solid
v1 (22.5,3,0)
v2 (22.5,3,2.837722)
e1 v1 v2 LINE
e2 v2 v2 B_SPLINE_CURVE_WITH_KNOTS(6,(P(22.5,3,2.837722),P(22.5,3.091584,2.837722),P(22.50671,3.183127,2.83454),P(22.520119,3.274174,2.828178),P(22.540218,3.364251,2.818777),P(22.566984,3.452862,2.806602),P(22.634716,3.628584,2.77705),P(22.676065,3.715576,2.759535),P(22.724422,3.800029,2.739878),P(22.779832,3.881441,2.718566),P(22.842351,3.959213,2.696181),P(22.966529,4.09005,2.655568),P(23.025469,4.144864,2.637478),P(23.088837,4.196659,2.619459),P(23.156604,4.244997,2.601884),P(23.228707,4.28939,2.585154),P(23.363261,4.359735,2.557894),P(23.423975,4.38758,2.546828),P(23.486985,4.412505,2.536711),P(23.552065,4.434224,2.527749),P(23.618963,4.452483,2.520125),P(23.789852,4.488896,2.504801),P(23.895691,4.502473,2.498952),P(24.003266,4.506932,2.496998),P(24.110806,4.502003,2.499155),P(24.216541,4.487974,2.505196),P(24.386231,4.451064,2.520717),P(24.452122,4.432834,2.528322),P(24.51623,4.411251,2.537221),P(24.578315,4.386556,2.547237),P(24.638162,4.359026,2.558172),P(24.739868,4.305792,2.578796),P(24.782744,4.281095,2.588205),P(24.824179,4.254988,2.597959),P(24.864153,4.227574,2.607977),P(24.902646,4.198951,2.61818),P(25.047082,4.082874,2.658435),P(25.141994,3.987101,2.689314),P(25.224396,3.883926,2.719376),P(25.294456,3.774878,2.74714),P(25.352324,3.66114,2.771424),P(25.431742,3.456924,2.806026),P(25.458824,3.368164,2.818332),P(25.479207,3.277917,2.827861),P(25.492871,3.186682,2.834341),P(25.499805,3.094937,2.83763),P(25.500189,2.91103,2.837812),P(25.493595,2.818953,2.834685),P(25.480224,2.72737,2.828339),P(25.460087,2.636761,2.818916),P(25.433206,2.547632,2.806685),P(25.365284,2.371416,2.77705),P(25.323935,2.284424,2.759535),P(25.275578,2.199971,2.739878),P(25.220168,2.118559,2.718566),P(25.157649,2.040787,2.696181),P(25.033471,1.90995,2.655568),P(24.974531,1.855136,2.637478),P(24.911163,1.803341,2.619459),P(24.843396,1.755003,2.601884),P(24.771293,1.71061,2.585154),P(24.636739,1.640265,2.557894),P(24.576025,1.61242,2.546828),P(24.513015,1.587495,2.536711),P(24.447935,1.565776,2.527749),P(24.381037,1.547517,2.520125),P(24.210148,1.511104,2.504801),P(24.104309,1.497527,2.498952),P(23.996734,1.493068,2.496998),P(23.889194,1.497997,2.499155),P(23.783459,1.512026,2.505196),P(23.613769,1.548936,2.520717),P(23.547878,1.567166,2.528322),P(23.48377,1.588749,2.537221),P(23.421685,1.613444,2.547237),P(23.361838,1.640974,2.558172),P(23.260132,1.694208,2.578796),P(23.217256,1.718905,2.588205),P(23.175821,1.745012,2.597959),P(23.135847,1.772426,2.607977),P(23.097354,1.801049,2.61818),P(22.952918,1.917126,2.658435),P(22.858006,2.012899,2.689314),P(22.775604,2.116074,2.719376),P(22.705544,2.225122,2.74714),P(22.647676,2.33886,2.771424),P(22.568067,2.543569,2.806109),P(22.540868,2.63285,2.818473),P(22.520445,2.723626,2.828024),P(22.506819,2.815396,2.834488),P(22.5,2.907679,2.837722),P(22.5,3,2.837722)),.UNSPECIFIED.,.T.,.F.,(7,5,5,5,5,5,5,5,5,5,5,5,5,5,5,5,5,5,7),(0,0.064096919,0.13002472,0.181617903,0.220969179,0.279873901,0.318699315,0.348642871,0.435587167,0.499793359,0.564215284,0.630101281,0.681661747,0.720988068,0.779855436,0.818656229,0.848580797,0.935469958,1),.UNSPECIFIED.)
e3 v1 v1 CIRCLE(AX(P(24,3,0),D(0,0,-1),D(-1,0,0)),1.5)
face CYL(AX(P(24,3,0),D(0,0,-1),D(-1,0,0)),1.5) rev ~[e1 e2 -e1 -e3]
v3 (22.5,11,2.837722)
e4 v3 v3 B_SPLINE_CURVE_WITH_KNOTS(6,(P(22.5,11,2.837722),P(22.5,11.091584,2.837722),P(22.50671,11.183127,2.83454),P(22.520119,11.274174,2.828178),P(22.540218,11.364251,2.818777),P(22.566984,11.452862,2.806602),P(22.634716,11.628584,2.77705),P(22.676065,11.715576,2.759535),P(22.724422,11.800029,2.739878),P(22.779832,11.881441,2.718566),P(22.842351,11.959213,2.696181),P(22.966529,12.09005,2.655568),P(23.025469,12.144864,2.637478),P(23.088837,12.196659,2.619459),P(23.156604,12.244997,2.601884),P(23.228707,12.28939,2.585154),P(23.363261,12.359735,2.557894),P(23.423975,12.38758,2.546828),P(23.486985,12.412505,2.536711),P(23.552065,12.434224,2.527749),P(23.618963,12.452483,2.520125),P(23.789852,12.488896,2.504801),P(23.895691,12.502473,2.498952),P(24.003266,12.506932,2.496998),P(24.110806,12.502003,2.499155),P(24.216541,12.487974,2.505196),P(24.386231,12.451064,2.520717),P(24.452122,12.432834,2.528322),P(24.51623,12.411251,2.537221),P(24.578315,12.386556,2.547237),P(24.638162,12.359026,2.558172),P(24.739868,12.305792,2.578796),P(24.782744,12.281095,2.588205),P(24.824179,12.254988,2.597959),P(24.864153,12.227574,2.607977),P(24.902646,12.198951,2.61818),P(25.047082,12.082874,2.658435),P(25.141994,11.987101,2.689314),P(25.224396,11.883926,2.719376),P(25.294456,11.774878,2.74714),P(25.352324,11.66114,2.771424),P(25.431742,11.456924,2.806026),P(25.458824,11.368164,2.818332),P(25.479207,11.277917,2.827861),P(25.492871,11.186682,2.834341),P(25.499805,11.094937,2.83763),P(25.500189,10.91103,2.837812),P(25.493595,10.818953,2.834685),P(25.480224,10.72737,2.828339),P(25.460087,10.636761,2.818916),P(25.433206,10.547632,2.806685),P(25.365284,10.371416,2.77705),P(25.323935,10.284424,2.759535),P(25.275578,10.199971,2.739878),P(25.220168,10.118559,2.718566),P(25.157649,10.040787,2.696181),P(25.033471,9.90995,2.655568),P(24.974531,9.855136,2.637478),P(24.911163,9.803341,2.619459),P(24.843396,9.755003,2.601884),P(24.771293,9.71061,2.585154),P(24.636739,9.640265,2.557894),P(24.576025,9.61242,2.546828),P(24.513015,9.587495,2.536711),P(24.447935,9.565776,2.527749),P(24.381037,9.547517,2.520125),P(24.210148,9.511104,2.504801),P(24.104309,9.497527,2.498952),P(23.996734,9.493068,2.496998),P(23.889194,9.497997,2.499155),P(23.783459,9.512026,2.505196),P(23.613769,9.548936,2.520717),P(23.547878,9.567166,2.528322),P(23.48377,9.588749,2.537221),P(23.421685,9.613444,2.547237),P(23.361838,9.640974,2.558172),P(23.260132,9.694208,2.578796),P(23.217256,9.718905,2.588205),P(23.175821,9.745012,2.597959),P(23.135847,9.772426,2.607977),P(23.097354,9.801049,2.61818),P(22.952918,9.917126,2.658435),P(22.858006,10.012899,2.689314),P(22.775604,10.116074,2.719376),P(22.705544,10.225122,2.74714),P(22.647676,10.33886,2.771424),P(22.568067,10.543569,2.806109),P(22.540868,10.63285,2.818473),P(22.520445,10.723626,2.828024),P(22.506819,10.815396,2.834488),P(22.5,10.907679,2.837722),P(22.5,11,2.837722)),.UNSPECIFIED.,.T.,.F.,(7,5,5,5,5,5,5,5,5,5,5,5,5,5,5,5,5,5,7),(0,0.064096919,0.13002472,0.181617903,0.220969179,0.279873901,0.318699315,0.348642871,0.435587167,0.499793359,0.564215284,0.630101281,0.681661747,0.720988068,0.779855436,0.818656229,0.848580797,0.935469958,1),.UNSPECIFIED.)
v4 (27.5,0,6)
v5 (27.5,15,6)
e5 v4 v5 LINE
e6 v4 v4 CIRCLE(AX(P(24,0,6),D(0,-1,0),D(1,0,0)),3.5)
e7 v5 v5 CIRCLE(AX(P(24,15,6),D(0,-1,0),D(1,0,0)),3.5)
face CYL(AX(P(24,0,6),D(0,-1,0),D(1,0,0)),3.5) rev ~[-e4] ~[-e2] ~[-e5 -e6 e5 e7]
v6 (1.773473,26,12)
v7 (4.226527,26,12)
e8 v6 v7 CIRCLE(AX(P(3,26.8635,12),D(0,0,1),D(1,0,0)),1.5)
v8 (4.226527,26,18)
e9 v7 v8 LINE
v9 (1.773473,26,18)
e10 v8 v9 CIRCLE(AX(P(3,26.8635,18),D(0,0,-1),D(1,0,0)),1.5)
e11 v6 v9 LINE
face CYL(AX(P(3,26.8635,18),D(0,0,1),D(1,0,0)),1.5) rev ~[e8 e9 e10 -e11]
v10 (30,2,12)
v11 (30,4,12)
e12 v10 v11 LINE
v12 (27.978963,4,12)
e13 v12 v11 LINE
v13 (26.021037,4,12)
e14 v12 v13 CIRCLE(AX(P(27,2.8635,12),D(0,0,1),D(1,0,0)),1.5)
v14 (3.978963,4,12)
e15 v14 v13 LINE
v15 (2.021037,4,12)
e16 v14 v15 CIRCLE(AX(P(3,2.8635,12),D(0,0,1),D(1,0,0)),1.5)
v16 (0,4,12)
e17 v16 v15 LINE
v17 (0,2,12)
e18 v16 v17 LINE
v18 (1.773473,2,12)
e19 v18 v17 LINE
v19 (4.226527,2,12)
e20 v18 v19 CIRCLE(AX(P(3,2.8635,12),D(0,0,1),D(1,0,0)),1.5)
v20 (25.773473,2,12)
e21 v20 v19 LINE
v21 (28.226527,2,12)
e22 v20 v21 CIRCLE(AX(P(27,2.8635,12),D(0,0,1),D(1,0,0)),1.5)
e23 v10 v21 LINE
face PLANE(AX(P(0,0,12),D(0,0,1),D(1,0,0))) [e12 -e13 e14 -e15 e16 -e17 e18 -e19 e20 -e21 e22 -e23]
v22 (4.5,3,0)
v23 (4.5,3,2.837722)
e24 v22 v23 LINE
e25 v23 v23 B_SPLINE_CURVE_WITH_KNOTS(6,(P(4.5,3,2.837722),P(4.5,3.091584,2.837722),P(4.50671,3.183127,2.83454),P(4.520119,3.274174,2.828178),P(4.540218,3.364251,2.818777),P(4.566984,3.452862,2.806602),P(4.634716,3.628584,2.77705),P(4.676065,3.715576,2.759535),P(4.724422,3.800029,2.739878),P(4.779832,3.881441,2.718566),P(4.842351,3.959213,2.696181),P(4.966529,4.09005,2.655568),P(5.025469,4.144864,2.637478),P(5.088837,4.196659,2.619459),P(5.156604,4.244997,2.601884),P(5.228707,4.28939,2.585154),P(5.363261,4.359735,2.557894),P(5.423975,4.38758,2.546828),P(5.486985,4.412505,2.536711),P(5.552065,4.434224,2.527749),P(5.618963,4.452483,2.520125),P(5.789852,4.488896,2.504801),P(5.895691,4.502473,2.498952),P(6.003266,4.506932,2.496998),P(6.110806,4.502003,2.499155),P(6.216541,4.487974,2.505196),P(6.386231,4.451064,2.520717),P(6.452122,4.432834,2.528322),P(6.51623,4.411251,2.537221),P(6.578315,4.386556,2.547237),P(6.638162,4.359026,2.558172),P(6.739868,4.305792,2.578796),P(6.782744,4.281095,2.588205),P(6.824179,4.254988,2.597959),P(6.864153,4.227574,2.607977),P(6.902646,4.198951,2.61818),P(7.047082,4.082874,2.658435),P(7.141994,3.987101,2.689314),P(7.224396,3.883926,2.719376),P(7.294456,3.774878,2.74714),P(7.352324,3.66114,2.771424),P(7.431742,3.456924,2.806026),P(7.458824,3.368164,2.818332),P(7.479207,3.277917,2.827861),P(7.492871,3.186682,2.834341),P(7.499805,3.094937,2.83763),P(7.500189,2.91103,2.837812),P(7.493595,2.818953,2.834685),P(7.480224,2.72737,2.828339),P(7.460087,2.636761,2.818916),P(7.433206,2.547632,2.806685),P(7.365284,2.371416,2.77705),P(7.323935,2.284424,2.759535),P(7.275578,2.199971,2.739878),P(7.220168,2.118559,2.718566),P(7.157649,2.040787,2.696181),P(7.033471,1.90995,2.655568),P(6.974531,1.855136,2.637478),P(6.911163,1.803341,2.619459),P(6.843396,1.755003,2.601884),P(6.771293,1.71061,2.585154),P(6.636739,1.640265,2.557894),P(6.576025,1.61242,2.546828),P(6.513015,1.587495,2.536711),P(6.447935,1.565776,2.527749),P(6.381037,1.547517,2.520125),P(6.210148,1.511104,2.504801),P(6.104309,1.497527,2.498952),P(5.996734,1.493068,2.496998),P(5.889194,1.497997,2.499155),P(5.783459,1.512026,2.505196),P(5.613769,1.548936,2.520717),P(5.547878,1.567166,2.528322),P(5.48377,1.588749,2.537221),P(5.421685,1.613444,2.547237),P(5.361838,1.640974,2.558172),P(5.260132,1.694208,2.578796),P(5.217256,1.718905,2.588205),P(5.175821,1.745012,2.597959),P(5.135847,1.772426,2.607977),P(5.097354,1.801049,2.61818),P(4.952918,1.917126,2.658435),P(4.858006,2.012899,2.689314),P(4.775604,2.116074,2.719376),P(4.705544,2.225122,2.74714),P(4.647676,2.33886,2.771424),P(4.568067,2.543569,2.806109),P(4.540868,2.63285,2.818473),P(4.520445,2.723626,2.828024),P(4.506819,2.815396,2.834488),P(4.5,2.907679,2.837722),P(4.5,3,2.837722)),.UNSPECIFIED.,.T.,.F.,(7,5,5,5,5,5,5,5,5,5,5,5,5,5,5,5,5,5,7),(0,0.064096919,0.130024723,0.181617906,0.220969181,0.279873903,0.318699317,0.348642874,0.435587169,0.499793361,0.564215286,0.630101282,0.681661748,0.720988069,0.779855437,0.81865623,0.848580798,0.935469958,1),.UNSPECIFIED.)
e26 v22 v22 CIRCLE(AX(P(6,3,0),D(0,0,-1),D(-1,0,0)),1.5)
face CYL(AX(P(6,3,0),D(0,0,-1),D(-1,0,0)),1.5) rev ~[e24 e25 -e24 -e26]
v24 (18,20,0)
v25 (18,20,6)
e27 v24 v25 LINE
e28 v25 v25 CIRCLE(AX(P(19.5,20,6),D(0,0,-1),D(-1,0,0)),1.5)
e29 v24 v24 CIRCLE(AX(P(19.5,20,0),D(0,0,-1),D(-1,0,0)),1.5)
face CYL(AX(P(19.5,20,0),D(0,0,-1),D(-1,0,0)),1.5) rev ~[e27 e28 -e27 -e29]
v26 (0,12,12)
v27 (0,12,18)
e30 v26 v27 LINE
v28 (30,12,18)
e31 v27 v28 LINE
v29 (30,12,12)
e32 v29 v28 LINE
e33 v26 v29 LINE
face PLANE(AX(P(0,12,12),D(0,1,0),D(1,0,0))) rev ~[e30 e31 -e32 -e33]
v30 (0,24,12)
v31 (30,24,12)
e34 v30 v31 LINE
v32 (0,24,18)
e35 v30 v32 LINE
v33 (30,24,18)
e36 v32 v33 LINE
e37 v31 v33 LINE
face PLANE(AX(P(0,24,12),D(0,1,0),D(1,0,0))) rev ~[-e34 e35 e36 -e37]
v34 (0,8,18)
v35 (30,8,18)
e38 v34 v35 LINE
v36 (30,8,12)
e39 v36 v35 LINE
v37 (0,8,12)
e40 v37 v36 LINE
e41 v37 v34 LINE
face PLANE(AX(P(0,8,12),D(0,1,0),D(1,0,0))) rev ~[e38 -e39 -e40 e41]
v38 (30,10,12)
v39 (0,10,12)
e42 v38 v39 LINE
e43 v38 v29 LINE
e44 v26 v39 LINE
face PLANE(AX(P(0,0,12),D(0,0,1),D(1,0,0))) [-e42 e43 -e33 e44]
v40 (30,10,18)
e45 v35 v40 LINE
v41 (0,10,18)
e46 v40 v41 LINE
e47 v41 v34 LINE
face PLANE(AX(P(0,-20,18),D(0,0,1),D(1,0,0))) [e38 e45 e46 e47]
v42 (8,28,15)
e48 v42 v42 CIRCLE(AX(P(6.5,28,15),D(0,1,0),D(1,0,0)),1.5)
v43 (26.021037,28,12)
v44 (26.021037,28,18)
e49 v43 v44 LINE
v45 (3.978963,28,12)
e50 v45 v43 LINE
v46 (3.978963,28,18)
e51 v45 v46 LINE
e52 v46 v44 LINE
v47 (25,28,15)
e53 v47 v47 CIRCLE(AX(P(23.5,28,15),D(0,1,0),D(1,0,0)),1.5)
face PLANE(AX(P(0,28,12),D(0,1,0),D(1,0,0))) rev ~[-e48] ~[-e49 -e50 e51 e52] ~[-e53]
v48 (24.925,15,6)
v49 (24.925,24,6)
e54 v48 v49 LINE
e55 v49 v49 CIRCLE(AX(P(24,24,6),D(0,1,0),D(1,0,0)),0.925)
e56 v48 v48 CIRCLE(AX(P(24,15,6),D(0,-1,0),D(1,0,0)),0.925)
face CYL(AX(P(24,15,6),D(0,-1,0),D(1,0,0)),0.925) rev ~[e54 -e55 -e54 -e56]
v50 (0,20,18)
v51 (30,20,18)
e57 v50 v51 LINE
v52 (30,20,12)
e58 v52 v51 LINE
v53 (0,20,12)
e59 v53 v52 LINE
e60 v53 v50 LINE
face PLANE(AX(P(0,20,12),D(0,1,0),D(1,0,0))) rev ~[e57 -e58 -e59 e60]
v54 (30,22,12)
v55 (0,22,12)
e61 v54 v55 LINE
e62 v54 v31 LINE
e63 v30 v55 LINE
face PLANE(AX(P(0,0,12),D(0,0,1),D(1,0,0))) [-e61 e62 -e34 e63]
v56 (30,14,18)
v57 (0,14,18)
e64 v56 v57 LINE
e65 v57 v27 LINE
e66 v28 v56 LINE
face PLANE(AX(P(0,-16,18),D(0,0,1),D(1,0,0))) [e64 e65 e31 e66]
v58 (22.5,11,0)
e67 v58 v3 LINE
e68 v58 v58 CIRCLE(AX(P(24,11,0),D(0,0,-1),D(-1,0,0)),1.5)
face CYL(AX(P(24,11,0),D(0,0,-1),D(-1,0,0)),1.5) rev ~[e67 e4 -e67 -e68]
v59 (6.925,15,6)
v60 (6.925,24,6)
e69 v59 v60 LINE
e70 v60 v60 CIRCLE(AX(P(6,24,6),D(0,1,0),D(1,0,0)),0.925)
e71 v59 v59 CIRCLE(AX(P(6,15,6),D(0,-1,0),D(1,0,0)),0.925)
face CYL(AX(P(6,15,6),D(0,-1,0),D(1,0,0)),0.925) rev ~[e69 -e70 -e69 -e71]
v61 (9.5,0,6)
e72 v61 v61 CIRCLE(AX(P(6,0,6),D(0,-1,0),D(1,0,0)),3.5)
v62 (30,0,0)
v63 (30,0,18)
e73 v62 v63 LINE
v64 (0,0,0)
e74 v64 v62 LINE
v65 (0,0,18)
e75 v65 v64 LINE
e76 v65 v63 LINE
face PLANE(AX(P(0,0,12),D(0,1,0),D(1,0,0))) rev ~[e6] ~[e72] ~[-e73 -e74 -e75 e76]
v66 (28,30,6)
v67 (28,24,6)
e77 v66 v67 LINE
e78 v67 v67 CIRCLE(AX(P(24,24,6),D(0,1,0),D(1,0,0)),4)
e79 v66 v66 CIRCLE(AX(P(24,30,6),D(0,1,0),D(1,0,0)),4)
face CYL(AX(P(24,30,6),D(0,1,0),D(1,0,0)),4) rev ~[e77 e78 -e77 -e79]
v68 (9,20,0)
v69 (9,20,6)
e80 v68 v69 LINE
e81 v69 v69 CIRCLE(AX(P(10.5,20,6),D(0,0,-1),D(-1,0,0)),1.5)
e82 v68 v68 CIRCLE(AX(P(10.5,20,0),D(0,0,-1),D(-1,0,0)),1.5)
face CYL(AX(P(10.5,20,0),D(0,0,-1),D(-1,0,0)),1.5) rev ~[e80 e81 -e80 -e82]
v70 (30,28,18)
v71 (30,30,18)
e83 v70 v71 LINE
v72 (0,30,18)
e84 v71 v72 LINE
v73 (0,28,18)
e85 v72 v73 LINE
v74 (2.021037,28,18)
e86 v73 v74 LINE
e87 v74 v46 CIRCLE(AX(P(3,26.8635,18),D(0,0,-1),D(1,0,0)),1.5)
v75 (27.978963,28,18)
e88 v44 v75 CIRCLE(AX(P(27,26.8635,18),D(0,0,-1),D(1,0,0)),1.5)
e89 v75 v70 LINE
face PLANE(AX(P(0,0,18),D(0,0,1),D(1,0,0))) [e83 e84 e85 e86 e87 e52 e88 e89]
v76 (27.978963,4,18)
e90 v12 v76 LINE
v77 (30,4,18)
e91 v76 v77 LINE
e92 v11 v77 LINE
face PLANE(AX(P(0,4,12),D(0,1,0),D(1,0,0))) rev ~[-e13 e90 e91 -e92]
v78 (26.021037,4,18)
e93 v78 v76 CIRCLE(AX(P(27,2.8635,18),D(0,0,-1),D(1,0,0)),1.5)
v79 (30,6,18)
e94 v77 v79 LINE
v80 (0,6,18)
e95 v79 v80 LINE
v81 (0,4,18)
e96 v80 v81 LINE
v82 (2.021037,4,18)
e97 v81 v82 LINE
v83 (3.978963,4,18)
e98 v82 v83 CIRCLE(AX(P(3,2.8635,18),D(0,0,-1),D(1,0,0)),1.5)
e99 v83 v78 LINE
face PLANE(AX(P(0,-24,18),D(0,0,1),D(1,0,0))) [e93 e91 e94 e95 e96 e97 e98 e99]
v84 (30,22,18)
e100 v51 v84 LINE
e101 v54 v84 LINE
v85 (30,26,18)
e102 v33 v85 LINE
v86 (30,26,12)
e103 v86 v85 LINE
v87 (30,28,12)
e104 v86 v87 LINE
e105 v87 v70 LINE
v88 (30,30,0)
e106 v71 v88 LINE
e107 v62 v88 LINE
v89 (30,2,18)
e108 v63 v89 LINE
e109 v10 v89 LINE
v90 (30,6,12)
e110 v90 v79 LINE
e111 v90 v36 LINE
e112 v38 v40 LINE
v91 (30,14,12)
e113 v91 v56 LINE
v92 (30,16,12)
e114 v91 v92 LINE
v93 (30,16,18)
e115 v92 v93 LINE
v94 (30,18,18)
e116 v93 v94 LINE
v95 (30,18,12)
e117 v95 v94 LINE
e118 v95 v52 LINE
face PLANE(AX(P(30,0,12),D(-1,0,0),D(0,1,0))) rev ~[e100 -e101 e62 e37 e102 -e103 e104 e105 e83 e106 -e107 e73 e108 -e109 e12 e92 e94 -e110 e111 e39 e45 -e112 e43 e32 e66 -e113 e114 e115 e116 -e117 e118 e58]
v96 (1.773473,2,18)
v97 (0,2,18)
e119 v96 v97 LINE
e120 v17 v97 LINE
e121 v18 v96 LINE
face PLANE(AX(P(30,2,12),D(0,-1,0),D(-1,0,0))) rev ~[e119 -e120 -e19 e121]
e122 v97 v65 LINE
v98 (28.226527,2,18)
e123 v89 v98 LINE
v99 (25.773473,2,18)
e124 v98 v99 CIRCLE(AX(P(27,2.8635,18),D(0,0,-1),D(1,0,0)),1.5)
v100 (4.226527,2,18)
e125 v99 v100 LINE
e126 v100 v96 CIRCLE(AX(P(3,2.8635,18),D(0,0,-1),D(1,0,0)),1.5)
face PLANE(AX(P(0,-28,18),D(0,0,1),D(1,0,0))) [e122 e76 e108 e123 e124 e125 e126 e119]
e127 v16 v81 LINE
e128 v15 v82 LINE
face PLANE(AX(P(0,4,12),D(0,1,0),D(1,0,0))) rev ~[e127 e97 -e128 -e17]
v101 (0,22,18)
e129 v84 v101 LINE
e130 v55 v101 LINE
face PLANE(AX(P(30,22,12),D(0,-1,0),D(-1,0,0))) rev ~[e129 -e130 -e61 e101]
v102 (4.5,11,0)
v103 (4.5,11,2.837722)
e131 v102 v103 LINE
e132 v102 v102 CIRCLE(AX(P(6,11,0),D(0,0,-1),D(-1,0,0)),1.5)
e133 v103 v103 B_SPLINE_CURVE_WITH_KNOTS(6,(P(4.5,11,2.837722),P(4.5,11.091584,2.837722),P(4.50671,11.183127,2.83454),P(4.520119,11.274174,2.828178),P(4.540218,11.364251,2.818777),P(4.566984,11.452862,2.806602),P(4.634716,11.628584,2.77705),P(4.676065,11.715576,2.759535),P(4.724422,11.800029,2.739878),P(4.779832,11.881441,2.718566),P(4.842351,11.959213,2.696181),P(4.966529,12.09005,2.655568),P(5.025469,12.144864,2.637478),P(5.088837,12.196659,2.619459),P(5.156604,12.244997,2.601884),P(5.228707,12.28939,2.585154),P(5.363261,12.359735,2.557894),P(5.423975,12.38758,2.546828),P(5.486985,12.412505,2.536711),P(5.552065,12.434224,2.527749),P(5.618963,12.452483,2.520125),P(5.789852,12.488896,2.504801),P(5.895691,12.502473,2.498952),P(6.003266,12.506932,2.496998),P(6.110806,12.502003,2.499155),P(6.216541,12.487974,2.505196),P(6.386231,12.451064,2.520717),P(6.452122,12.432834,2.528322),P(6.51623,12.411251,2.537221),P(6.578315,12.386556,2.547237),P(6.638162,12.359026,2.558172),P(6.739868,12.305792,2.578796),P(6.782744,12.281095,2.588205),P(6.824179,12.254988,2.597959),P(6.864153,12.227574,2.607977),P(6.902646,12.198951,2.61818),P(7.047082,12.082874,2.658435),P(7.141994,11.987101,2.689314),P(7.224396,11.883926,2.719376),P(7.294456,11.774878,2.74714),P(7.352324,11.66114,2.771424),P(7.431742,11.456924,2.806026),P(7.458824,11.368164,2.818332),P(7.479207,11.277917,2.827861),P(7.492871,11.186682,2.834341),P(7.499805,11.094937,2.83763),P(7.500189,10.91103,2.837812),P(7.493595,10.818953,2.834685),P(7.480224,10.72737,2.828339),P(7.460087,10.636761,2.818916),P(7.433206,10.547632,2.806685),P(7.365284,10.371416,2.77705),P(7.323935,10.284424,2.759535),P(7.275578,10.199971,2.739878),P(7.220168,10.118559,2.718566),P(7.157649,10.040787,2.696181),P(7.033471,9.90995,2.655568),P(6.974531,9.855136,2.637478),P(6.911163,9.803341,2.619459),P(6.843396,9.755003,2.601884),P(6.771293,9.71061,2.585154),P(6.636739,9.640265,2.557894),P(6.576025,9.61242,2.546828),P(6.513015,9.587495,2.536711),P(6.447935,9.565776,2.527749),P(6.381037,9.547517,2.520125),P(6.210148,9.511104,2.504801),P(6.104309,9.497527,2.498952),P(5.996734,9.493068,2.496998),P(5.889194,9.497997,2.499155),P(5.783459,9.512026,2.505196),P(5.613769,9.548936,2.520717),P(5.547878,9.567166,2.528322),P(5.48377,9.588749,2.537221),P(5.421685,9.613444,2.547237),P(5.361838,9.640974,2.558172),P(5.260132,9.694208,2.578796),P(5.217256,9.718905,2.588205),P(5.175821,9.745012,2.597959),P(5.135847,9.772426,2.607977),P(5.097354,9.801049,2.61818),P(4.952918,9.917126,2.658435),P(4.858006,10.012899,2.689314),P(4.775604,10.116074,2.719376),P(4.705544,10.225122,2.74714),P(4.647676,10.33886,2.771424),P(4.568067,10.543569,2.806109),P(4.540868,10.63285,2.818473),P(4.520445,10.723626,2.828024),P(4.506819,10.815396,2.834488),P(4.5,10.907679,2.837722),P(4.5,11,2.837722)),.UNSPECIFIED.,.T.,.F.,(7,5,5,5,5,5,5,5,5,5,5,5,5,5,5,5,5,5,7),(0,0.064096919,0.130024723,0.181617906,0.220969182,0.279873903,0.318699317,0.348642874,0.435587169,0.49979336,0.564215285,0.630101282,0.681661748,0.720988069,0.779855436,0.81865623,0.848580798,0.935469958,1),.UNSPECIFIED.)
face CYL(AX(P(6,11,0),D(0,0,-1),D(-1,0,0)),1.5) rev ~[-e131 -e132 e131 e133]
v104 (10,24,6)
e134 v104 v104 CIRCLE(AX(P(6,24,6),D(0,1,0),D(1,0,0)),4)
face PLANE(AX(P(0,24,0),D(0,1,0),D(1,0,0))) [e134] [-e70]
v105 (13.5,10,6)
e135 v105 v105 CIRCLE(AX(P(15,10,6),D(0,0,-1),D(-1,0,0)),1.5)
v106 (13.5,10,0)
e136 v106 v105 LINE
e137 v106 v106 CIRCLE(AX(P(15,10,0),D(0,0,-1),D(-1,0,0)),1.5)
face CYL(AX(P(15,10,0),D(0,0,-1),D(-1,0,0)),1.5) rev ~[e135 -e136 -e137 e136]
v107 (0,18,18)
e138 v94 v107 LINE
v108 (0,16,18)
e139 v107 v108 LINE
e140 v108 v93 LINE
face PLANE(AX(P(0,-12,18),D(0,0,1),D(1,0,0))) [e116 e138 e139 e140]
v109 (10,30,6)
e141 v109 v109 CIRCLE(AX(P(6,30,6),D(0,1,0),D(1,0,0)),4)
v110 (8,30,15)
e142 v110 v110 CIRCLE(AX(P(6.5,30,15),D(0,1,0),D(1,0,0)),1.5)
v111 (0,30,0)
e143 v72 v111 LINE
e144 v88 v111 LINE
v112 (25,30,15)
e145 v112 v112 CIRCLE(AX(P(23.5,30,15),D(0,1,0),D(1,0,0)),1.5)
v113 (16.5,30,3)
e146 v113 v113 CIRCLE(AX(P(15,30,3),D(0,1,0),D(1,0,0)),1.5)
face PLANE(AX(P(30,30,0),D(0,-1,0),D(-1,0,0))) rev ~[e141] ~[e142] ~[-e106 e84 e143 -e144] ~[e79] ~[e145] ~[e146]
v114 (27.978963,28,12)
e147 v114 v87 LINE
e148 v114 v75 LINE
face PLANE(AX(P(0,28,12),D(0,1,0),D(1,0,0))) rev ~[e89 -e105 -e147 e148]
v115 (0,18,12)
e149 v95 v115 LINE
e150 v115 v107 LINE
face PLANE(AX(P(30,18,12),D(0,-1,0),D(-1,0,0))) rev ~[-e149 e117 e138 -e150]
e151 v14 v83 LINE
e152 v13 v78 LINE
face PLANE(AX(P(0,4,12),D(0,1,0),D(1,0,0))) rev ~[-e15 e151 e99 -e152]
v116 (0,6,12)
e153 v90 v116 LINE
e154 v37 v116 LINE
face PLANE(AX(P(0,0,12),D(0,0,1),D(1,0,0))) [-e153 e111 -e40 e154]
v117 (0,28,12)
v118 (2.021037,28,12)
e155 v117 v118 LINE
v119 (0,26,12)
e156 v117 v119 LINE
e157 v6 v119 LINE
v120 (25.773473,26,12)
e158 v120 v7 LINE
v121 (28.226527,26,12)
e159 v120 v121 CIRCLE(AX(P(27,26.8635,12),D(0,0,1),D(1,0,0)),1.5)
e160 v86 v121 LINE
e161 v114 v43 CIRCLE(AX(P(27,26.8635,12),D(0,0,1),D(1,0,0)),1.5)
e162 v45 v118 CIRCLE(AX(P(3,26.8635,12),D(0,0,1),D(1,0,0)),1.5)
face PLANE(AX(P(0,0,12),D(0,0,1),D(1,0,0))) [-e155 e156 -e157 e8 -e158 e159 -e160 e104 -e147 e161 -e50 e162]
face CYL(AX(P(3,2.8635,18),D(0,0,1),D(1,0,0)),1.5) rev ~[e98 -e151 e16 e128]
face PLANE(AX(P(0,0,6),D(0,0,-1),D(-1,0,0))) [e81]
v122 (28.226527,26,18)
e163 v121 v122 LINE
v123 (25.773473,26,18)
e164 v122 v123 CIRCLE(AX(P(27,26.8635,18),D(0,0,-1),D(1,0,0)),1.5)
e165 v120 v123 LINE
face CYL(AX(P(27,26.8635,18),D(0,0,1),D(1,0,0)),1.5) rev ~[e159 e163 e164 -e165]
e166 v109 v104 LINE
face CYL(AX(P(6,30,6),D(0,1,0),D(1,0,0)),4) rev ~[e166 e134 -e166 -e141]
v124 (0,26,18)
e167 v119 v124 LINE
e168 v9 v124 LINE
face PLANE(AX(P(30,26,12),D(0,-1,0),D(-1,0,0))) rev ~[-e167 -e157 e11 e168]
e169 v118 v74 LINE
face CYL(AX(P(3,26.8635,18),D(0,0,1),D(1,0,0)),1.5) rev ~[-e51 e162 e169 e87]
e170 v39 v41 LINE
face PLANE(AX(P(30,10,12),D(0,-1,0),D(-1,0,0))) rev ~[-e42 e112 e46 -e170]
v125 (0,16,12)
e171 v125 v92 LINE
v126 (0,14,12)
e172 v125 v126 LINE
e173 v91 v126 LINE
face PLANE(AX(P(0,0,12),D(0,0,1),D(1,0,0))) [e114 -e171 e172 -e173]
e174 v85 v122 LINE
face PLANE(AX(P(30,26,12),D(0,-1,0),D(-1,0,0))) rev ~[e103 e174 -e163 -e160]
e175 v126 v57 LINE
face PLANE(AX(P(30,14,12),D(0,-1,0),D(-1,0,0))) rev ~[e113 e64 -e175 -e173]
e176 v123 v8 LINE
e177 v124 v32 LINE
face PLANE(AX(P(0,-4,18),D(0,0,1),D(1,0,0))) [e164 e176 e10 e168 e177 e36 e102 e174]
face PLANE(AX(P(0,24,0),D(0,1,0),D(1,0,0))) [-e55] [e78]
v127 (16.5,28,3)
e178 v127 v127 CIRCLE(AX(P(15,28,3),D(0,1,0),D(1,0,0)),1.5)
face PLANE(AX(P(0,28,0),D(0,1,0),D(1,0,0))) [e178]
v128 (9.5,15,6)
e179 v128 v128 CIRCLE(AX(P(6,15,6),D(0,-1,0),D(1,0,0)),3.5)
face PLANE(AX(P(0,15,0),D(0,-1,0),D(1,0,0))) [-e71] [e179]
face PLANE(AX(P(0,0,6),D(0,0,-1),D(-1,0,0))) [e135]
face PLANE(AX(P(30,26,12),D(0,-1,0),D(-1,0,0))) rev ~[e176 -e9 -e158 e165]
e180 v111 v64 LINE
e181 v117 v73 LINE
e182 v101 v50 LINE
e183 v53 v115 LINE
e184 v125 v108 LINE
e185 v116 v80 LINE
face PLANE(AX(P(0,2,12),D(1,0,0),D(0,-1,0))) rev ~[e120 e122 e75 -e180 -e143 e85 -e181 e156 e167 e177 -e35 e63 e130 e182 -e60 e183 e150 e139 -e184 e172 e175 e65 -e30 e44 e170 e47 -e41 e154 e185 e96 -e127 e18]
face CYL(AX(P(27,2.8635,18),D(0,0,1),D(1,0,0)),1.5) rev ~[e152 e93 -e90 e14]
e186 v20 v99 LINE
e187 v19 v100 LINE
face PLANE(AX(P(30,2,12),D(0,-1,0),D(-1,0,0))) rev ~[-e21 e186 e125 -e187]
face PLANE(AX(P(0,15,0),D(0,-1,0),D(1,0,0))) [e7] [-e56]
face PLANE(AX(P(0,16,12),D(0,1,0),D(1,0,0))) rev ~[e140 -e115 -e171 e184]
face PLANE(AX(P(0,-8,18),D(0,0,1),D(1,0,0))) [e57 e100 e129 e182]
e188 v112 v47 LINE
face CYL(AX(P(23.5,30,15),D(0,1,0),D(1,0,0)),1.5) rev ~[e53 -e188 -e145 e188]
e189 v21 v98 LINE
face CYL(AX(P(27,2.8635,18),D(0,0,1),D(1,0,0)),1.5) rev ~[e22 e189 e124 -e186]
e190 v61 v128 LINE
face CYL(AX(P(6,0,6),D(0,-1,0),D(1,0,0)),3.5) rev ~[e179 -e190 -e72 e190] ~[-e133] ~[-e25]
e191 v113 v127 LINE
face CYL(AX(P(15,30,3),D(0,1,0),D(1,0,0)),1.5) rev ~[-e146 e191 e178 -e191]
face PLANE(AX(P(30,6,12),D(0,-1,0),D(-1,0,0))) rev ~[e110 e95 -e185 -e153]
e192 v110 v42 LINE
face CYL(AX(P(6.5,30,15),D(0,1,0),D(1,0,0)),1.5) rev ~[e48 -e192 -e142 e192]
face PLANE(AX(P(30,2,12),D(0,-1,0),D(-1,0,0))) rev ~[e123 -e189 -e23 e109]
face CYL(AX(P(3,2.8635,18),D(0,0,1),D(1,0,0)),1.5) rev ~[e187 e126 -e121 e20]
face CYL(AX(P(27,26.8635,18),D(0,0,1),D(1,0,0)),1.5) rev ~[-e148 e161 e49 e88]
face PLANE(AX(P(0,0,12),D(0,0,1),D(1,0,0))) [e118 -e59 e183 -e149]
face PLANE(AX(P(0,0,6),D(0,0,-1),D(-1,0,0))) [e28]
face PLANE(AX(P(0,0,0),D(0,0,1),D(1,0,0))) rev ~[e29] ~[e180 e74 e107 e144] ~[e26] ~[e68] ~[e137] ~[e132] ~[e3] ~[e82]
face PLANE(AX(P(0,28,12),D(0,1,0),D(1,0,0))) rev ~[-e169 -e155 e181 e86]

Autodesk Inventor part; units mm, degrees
ref_plane "YZ Plane" through (0, 0, 0) normal (1, 0, 0) x (0, 1, 0)
ref_plane "XZ Plane" through (0, 0, 0) normal (0, 1, 0) x (-1, 0, 0)
ref_plane "XY Plane" through (0, 0, 0) normal (0, 0, 1) x (1, 0, 0)
sketch "Sketch1" plane through (0, 0, 0) normal (0, 0, 1) x (1, 0, 0)
  line L0 (0, 0) -> (30, 0)
  line L1 (30, 0) -> (30, 30)
  line L2 (30, 30) -> (0, 30)
  line L3 (0, 30) -> (0, 0)
  dimension "d0" = 30
  dimension "d1" = 30
extrude "Extrusion1" add sketch "Sketch1" along normal blind 12
sketch "Sketch2" plane through (0, 0, 12) normal (0, 0, 1) x (1, 0, 0)
  line L0 (30, 0) -> (30, 30) projected
  line L1 (30, 30) -> (0, 30) projected
  line L2 (0, 30) -> (0, 0) projected
  line L3 (0, 28) -> (30, 28)
  dimension "d7" = 2
extrude "Extrusion2" add sketch "Sketch2" along normal blind 6
pattern_linear "Rectangular Pattern1" count 8 spacing 4 along (0, -1, 0) of "Extrusion2"
sketch "Sketch3" plane through (0, 0, 0) normal (0, -1, 0) x (1, 0, 0)
  line L0 (0, 0) -> (30, 0) projected
  line L1 (0, 0) -> (0, 18) projected
  circle A0 centre (6, 6) radius 3.5
  circle A1 centre (24, 6) radius 3.5
  dimension "d11" = 18
  dimension "d12" = 7
  dimension "d13" = 6
  dimension "d14" = 6
extrude "Extrusion3" cut sketch "Sketch3" against normal blind 15
sketch "Sketch4" plane through (24, 15, 6) normal (0, -1, 0) x (1, 0, 0)
  circle A0 centre (0, 0) radius 3.5 projected
  circle A1 centre (-18, 0) radius 3.5 projected
  circle A2 centre (-18, 0) radius 0.925
  circle A3 centre (0, 0) radius 0.925
  point P0 (-24, -6)
  dimension "d17" = 1.85
  dimension "d18" = 1.85
extrude "Extrusion4" cut sketch "Sketch4" against normal up to next contours A2 | A3
sketch "Sketch5" plane through (0, 30, 0) normal (0, 1, 0) x (1, 0, 0)
  line L0 (30, -18) -> (0, -18) projected
  circle A0 centre (23.5, -15) radius 1.5
  circle A1 centre (6.5, -15) radius 1.5
  line L1 (30, 0) -> (30, -18) projected
  circle A2 centre (15, -3) radius 1.5
  dimension "d21" = 3
  dimension "d22" = 3
  dimension "d87" = 17
  dimension "d88" = 6.5
  dimension "d89" = 3
  dimension "d90" = 8.5
  dimension "d91" = 12
extrude "Extrusion5" cut sketch "Sketch5" against normal up to surface (2 mm away)
thread "Thread1" size "M3x0.5" class "6H" standard "ANSI Metric M Profile" full length
thread "Thread2" size "M3x0.5" class "6H" standard "ANSI Metric M Profile" full length
sketch "Sketch6" plane through (0, 0, 18) normal (0, 0, 1) x (1, 0, 0)
  line L0 (30, 28) -> (30, 30)
  line L1 (30, 26) -> (0, 26)
  line L2 (0, 26) -> (0, 24)
  line L3 (0, 24) -> (30, 24)
  line L4 (30, 24) -> (30, 26)
  line L5 (30, 22) -> (0, 22)
  line L6 (0, 22) -> (0, 20)
  line L7 (0, 20) -> (30, 20)
  line L8 (30, 20) -> (30, 22)
  line L9 (30, 18) -> (0, 18)
  line L10 (0, 18) -> (0, 16)
  line L11 (0, 16) -> (30, 16)
  line L12 (30, 16) -> (30, 18)
  line L13 (30, 14) -> (0, 14)
  line L14 (0, 14) -> (0, 12)
  line L15 (0, 12) -> (30, 12)
  line L16 (30, 12) -> (30, 14)
  line L17 (30, 10) -> (0, 10)
  line L18 (0, 10) -> (0, 8)
  line L19 (0, 8) -> (30, 8)
  line L20 (30, 8) -> (30, 10)
  line L21 (30, 6) -> (0, 6)
  line L22 (0, 6) -> (0, 4)
  line L23 (0, 4) -> (30, 4)
  line L24 (30, 4) -> (30, 6)
  line L25 (30, 2) -> (0, 2)
  line L26 (0, 2) -> (0, 0)
  line L27 (0, 0) -> (30, 0)
  line L28 (30, 0) -> (30, 2)
  circle A0 centre (3, 26.8635) radius 1.5
  circle A1 centre (27, 26.8635) radius 1.5
  circle A2 centre (27, 2.8635) radius 1.5
  circle A3 centre (3, 2.8635) radius 1.5
  point P0 (0, 0)
extrude "Extrusion6" cut sketch "Sketch6" against normal up to surface (6 mm away) contours A1 L1 | L1 A1 | A0 L1 | L1 A0 | A2 L25 L23 | L23 A2 | A3 L23 | L23 A3 L25 | L25 A3 | L25 A2
thread "Thread3" size "M3x0.5" class "6H" standard "ANSI Metric M Profile" full length
thread "Thread4" size "M3x0.5" class "6H" standard "ANSI Metric M Profile" full length
thread "Thread5" size "M3x0.5" class "6H" standard "ANSI Metric M Profile" full length
thread "Thread6" size "M3x0.5" class "6H" standard "ANSI Metric M Profile" full length
thread "Thread7" size "M3x0.5" class "6H" standard "ANSI Metric M Profile" full length
thread "Thread8" size "M3x0.5" class "6H" standard "ANSI Metric M Profile" full length
thread "Thread9" size "M3x0.5" class "6H" standard "ANSI Metric M Profile" full length
thread "Thread10" size "M3x0.5" class "6H" standard "ANSI Metric M Profile" full length
sketch "Sketch7" plane through (0, 30, 0) normal (0, 1, 0) x (1, 0, 0)
  circle A0 centre (24, -6) radius 0.925 projected
  circle A1 centre (6, -6) radius 0.925 projected
  circle A2 centre (24, -6) radius 0.925 projected
  circle A3 centre (24, -6) radius 4
  circle A4 centre (6, -6) radius 4
  dimension "d52" = 8
extrude "Extrusion7" cut sketch "Sketch7" against normal blind 6
sketch "Sketch8" plane through (0, 0, 0) normal (0, 0, -1) x (-1, 0, 0)
  line L0 (0, 0) -> (-30, 0) projected
  circle A0 centre (-24, 3) radius 1.5
  circle A1 centre (-24, 11) radius 1.5
  circle A2 centre (-6, 11) radius 1.5
  circle A3 centre (-6, 3) radius 1.5
  line L1 (-20.5, 15) -> (-27.5, 15) projected
  line L2 (-20.5, 0) -> (-27.5, 0) projected
  line L3 (-2.5, 15) -> (-9.5, 15) projected
  line L4 (-2.5, 0) -> (-9.5, 0) projected
  dimension "d55" = 3
  dimension "d56" = 8
  dimension "d57" = 3.5
  dimension "d58" = 3.5
  dimension "d59" = 3
extrude "Extrusion8" cut sketch "Sketch8" against normal up to next
thread "Thread11" size "M3x0.5" class "6H" standard "ANSI Metric M Profile" full length
thread "Thread12" size "M3x0.5" class "6H" standard "ANSI Metric M Profile" full length
thread "Thread13" size "M3x0.5" class "6H" standard "ANSI Metric M Profile" full length
thread "Thread14" size "M3x0.5" class "6H" standard "ANSI Metric M Profile" full length
sketch "Sketch9" plane through (0, 0, 0) normal (0, 0, -1) x (-1, 0, 0)
  line L0 (-30, 0) -> (-30, 30) projected
  circle A0 centre (-15, 10) radius 1.5
  circle A1 centre (-19.5, 20) radius 1.5
  circle A2 centre (-10.5, 20) radius 1.5
  line L1 (0, 22) -> (-30, 22) projected
  line L2 (0, 0) -> (-30, 0) projected
  dimension "d70" = 3
  dimension "d73" = 10.5
  dimension "d75" = 10
  dimension "d84" = 19.5
  dimension "d85" = 15
  dimension "d86" = 20
extrude "Extrusion9" cut sketch "Sketch9" against normal blind 6
thread "Thread15" size "M3x0.5" class "6H" standard "ANSI Metric M Profile" full length
thread "Thread16" size "M3x0.5" class "6H" standard "ANSI Metric M Profile" full length
thread "Thread17" size "M3x0.5" class "6H" standard "ANSI Metric M Profile" full length
properties part number "ChimeraHeatsink" material "Aluminum 6061"
